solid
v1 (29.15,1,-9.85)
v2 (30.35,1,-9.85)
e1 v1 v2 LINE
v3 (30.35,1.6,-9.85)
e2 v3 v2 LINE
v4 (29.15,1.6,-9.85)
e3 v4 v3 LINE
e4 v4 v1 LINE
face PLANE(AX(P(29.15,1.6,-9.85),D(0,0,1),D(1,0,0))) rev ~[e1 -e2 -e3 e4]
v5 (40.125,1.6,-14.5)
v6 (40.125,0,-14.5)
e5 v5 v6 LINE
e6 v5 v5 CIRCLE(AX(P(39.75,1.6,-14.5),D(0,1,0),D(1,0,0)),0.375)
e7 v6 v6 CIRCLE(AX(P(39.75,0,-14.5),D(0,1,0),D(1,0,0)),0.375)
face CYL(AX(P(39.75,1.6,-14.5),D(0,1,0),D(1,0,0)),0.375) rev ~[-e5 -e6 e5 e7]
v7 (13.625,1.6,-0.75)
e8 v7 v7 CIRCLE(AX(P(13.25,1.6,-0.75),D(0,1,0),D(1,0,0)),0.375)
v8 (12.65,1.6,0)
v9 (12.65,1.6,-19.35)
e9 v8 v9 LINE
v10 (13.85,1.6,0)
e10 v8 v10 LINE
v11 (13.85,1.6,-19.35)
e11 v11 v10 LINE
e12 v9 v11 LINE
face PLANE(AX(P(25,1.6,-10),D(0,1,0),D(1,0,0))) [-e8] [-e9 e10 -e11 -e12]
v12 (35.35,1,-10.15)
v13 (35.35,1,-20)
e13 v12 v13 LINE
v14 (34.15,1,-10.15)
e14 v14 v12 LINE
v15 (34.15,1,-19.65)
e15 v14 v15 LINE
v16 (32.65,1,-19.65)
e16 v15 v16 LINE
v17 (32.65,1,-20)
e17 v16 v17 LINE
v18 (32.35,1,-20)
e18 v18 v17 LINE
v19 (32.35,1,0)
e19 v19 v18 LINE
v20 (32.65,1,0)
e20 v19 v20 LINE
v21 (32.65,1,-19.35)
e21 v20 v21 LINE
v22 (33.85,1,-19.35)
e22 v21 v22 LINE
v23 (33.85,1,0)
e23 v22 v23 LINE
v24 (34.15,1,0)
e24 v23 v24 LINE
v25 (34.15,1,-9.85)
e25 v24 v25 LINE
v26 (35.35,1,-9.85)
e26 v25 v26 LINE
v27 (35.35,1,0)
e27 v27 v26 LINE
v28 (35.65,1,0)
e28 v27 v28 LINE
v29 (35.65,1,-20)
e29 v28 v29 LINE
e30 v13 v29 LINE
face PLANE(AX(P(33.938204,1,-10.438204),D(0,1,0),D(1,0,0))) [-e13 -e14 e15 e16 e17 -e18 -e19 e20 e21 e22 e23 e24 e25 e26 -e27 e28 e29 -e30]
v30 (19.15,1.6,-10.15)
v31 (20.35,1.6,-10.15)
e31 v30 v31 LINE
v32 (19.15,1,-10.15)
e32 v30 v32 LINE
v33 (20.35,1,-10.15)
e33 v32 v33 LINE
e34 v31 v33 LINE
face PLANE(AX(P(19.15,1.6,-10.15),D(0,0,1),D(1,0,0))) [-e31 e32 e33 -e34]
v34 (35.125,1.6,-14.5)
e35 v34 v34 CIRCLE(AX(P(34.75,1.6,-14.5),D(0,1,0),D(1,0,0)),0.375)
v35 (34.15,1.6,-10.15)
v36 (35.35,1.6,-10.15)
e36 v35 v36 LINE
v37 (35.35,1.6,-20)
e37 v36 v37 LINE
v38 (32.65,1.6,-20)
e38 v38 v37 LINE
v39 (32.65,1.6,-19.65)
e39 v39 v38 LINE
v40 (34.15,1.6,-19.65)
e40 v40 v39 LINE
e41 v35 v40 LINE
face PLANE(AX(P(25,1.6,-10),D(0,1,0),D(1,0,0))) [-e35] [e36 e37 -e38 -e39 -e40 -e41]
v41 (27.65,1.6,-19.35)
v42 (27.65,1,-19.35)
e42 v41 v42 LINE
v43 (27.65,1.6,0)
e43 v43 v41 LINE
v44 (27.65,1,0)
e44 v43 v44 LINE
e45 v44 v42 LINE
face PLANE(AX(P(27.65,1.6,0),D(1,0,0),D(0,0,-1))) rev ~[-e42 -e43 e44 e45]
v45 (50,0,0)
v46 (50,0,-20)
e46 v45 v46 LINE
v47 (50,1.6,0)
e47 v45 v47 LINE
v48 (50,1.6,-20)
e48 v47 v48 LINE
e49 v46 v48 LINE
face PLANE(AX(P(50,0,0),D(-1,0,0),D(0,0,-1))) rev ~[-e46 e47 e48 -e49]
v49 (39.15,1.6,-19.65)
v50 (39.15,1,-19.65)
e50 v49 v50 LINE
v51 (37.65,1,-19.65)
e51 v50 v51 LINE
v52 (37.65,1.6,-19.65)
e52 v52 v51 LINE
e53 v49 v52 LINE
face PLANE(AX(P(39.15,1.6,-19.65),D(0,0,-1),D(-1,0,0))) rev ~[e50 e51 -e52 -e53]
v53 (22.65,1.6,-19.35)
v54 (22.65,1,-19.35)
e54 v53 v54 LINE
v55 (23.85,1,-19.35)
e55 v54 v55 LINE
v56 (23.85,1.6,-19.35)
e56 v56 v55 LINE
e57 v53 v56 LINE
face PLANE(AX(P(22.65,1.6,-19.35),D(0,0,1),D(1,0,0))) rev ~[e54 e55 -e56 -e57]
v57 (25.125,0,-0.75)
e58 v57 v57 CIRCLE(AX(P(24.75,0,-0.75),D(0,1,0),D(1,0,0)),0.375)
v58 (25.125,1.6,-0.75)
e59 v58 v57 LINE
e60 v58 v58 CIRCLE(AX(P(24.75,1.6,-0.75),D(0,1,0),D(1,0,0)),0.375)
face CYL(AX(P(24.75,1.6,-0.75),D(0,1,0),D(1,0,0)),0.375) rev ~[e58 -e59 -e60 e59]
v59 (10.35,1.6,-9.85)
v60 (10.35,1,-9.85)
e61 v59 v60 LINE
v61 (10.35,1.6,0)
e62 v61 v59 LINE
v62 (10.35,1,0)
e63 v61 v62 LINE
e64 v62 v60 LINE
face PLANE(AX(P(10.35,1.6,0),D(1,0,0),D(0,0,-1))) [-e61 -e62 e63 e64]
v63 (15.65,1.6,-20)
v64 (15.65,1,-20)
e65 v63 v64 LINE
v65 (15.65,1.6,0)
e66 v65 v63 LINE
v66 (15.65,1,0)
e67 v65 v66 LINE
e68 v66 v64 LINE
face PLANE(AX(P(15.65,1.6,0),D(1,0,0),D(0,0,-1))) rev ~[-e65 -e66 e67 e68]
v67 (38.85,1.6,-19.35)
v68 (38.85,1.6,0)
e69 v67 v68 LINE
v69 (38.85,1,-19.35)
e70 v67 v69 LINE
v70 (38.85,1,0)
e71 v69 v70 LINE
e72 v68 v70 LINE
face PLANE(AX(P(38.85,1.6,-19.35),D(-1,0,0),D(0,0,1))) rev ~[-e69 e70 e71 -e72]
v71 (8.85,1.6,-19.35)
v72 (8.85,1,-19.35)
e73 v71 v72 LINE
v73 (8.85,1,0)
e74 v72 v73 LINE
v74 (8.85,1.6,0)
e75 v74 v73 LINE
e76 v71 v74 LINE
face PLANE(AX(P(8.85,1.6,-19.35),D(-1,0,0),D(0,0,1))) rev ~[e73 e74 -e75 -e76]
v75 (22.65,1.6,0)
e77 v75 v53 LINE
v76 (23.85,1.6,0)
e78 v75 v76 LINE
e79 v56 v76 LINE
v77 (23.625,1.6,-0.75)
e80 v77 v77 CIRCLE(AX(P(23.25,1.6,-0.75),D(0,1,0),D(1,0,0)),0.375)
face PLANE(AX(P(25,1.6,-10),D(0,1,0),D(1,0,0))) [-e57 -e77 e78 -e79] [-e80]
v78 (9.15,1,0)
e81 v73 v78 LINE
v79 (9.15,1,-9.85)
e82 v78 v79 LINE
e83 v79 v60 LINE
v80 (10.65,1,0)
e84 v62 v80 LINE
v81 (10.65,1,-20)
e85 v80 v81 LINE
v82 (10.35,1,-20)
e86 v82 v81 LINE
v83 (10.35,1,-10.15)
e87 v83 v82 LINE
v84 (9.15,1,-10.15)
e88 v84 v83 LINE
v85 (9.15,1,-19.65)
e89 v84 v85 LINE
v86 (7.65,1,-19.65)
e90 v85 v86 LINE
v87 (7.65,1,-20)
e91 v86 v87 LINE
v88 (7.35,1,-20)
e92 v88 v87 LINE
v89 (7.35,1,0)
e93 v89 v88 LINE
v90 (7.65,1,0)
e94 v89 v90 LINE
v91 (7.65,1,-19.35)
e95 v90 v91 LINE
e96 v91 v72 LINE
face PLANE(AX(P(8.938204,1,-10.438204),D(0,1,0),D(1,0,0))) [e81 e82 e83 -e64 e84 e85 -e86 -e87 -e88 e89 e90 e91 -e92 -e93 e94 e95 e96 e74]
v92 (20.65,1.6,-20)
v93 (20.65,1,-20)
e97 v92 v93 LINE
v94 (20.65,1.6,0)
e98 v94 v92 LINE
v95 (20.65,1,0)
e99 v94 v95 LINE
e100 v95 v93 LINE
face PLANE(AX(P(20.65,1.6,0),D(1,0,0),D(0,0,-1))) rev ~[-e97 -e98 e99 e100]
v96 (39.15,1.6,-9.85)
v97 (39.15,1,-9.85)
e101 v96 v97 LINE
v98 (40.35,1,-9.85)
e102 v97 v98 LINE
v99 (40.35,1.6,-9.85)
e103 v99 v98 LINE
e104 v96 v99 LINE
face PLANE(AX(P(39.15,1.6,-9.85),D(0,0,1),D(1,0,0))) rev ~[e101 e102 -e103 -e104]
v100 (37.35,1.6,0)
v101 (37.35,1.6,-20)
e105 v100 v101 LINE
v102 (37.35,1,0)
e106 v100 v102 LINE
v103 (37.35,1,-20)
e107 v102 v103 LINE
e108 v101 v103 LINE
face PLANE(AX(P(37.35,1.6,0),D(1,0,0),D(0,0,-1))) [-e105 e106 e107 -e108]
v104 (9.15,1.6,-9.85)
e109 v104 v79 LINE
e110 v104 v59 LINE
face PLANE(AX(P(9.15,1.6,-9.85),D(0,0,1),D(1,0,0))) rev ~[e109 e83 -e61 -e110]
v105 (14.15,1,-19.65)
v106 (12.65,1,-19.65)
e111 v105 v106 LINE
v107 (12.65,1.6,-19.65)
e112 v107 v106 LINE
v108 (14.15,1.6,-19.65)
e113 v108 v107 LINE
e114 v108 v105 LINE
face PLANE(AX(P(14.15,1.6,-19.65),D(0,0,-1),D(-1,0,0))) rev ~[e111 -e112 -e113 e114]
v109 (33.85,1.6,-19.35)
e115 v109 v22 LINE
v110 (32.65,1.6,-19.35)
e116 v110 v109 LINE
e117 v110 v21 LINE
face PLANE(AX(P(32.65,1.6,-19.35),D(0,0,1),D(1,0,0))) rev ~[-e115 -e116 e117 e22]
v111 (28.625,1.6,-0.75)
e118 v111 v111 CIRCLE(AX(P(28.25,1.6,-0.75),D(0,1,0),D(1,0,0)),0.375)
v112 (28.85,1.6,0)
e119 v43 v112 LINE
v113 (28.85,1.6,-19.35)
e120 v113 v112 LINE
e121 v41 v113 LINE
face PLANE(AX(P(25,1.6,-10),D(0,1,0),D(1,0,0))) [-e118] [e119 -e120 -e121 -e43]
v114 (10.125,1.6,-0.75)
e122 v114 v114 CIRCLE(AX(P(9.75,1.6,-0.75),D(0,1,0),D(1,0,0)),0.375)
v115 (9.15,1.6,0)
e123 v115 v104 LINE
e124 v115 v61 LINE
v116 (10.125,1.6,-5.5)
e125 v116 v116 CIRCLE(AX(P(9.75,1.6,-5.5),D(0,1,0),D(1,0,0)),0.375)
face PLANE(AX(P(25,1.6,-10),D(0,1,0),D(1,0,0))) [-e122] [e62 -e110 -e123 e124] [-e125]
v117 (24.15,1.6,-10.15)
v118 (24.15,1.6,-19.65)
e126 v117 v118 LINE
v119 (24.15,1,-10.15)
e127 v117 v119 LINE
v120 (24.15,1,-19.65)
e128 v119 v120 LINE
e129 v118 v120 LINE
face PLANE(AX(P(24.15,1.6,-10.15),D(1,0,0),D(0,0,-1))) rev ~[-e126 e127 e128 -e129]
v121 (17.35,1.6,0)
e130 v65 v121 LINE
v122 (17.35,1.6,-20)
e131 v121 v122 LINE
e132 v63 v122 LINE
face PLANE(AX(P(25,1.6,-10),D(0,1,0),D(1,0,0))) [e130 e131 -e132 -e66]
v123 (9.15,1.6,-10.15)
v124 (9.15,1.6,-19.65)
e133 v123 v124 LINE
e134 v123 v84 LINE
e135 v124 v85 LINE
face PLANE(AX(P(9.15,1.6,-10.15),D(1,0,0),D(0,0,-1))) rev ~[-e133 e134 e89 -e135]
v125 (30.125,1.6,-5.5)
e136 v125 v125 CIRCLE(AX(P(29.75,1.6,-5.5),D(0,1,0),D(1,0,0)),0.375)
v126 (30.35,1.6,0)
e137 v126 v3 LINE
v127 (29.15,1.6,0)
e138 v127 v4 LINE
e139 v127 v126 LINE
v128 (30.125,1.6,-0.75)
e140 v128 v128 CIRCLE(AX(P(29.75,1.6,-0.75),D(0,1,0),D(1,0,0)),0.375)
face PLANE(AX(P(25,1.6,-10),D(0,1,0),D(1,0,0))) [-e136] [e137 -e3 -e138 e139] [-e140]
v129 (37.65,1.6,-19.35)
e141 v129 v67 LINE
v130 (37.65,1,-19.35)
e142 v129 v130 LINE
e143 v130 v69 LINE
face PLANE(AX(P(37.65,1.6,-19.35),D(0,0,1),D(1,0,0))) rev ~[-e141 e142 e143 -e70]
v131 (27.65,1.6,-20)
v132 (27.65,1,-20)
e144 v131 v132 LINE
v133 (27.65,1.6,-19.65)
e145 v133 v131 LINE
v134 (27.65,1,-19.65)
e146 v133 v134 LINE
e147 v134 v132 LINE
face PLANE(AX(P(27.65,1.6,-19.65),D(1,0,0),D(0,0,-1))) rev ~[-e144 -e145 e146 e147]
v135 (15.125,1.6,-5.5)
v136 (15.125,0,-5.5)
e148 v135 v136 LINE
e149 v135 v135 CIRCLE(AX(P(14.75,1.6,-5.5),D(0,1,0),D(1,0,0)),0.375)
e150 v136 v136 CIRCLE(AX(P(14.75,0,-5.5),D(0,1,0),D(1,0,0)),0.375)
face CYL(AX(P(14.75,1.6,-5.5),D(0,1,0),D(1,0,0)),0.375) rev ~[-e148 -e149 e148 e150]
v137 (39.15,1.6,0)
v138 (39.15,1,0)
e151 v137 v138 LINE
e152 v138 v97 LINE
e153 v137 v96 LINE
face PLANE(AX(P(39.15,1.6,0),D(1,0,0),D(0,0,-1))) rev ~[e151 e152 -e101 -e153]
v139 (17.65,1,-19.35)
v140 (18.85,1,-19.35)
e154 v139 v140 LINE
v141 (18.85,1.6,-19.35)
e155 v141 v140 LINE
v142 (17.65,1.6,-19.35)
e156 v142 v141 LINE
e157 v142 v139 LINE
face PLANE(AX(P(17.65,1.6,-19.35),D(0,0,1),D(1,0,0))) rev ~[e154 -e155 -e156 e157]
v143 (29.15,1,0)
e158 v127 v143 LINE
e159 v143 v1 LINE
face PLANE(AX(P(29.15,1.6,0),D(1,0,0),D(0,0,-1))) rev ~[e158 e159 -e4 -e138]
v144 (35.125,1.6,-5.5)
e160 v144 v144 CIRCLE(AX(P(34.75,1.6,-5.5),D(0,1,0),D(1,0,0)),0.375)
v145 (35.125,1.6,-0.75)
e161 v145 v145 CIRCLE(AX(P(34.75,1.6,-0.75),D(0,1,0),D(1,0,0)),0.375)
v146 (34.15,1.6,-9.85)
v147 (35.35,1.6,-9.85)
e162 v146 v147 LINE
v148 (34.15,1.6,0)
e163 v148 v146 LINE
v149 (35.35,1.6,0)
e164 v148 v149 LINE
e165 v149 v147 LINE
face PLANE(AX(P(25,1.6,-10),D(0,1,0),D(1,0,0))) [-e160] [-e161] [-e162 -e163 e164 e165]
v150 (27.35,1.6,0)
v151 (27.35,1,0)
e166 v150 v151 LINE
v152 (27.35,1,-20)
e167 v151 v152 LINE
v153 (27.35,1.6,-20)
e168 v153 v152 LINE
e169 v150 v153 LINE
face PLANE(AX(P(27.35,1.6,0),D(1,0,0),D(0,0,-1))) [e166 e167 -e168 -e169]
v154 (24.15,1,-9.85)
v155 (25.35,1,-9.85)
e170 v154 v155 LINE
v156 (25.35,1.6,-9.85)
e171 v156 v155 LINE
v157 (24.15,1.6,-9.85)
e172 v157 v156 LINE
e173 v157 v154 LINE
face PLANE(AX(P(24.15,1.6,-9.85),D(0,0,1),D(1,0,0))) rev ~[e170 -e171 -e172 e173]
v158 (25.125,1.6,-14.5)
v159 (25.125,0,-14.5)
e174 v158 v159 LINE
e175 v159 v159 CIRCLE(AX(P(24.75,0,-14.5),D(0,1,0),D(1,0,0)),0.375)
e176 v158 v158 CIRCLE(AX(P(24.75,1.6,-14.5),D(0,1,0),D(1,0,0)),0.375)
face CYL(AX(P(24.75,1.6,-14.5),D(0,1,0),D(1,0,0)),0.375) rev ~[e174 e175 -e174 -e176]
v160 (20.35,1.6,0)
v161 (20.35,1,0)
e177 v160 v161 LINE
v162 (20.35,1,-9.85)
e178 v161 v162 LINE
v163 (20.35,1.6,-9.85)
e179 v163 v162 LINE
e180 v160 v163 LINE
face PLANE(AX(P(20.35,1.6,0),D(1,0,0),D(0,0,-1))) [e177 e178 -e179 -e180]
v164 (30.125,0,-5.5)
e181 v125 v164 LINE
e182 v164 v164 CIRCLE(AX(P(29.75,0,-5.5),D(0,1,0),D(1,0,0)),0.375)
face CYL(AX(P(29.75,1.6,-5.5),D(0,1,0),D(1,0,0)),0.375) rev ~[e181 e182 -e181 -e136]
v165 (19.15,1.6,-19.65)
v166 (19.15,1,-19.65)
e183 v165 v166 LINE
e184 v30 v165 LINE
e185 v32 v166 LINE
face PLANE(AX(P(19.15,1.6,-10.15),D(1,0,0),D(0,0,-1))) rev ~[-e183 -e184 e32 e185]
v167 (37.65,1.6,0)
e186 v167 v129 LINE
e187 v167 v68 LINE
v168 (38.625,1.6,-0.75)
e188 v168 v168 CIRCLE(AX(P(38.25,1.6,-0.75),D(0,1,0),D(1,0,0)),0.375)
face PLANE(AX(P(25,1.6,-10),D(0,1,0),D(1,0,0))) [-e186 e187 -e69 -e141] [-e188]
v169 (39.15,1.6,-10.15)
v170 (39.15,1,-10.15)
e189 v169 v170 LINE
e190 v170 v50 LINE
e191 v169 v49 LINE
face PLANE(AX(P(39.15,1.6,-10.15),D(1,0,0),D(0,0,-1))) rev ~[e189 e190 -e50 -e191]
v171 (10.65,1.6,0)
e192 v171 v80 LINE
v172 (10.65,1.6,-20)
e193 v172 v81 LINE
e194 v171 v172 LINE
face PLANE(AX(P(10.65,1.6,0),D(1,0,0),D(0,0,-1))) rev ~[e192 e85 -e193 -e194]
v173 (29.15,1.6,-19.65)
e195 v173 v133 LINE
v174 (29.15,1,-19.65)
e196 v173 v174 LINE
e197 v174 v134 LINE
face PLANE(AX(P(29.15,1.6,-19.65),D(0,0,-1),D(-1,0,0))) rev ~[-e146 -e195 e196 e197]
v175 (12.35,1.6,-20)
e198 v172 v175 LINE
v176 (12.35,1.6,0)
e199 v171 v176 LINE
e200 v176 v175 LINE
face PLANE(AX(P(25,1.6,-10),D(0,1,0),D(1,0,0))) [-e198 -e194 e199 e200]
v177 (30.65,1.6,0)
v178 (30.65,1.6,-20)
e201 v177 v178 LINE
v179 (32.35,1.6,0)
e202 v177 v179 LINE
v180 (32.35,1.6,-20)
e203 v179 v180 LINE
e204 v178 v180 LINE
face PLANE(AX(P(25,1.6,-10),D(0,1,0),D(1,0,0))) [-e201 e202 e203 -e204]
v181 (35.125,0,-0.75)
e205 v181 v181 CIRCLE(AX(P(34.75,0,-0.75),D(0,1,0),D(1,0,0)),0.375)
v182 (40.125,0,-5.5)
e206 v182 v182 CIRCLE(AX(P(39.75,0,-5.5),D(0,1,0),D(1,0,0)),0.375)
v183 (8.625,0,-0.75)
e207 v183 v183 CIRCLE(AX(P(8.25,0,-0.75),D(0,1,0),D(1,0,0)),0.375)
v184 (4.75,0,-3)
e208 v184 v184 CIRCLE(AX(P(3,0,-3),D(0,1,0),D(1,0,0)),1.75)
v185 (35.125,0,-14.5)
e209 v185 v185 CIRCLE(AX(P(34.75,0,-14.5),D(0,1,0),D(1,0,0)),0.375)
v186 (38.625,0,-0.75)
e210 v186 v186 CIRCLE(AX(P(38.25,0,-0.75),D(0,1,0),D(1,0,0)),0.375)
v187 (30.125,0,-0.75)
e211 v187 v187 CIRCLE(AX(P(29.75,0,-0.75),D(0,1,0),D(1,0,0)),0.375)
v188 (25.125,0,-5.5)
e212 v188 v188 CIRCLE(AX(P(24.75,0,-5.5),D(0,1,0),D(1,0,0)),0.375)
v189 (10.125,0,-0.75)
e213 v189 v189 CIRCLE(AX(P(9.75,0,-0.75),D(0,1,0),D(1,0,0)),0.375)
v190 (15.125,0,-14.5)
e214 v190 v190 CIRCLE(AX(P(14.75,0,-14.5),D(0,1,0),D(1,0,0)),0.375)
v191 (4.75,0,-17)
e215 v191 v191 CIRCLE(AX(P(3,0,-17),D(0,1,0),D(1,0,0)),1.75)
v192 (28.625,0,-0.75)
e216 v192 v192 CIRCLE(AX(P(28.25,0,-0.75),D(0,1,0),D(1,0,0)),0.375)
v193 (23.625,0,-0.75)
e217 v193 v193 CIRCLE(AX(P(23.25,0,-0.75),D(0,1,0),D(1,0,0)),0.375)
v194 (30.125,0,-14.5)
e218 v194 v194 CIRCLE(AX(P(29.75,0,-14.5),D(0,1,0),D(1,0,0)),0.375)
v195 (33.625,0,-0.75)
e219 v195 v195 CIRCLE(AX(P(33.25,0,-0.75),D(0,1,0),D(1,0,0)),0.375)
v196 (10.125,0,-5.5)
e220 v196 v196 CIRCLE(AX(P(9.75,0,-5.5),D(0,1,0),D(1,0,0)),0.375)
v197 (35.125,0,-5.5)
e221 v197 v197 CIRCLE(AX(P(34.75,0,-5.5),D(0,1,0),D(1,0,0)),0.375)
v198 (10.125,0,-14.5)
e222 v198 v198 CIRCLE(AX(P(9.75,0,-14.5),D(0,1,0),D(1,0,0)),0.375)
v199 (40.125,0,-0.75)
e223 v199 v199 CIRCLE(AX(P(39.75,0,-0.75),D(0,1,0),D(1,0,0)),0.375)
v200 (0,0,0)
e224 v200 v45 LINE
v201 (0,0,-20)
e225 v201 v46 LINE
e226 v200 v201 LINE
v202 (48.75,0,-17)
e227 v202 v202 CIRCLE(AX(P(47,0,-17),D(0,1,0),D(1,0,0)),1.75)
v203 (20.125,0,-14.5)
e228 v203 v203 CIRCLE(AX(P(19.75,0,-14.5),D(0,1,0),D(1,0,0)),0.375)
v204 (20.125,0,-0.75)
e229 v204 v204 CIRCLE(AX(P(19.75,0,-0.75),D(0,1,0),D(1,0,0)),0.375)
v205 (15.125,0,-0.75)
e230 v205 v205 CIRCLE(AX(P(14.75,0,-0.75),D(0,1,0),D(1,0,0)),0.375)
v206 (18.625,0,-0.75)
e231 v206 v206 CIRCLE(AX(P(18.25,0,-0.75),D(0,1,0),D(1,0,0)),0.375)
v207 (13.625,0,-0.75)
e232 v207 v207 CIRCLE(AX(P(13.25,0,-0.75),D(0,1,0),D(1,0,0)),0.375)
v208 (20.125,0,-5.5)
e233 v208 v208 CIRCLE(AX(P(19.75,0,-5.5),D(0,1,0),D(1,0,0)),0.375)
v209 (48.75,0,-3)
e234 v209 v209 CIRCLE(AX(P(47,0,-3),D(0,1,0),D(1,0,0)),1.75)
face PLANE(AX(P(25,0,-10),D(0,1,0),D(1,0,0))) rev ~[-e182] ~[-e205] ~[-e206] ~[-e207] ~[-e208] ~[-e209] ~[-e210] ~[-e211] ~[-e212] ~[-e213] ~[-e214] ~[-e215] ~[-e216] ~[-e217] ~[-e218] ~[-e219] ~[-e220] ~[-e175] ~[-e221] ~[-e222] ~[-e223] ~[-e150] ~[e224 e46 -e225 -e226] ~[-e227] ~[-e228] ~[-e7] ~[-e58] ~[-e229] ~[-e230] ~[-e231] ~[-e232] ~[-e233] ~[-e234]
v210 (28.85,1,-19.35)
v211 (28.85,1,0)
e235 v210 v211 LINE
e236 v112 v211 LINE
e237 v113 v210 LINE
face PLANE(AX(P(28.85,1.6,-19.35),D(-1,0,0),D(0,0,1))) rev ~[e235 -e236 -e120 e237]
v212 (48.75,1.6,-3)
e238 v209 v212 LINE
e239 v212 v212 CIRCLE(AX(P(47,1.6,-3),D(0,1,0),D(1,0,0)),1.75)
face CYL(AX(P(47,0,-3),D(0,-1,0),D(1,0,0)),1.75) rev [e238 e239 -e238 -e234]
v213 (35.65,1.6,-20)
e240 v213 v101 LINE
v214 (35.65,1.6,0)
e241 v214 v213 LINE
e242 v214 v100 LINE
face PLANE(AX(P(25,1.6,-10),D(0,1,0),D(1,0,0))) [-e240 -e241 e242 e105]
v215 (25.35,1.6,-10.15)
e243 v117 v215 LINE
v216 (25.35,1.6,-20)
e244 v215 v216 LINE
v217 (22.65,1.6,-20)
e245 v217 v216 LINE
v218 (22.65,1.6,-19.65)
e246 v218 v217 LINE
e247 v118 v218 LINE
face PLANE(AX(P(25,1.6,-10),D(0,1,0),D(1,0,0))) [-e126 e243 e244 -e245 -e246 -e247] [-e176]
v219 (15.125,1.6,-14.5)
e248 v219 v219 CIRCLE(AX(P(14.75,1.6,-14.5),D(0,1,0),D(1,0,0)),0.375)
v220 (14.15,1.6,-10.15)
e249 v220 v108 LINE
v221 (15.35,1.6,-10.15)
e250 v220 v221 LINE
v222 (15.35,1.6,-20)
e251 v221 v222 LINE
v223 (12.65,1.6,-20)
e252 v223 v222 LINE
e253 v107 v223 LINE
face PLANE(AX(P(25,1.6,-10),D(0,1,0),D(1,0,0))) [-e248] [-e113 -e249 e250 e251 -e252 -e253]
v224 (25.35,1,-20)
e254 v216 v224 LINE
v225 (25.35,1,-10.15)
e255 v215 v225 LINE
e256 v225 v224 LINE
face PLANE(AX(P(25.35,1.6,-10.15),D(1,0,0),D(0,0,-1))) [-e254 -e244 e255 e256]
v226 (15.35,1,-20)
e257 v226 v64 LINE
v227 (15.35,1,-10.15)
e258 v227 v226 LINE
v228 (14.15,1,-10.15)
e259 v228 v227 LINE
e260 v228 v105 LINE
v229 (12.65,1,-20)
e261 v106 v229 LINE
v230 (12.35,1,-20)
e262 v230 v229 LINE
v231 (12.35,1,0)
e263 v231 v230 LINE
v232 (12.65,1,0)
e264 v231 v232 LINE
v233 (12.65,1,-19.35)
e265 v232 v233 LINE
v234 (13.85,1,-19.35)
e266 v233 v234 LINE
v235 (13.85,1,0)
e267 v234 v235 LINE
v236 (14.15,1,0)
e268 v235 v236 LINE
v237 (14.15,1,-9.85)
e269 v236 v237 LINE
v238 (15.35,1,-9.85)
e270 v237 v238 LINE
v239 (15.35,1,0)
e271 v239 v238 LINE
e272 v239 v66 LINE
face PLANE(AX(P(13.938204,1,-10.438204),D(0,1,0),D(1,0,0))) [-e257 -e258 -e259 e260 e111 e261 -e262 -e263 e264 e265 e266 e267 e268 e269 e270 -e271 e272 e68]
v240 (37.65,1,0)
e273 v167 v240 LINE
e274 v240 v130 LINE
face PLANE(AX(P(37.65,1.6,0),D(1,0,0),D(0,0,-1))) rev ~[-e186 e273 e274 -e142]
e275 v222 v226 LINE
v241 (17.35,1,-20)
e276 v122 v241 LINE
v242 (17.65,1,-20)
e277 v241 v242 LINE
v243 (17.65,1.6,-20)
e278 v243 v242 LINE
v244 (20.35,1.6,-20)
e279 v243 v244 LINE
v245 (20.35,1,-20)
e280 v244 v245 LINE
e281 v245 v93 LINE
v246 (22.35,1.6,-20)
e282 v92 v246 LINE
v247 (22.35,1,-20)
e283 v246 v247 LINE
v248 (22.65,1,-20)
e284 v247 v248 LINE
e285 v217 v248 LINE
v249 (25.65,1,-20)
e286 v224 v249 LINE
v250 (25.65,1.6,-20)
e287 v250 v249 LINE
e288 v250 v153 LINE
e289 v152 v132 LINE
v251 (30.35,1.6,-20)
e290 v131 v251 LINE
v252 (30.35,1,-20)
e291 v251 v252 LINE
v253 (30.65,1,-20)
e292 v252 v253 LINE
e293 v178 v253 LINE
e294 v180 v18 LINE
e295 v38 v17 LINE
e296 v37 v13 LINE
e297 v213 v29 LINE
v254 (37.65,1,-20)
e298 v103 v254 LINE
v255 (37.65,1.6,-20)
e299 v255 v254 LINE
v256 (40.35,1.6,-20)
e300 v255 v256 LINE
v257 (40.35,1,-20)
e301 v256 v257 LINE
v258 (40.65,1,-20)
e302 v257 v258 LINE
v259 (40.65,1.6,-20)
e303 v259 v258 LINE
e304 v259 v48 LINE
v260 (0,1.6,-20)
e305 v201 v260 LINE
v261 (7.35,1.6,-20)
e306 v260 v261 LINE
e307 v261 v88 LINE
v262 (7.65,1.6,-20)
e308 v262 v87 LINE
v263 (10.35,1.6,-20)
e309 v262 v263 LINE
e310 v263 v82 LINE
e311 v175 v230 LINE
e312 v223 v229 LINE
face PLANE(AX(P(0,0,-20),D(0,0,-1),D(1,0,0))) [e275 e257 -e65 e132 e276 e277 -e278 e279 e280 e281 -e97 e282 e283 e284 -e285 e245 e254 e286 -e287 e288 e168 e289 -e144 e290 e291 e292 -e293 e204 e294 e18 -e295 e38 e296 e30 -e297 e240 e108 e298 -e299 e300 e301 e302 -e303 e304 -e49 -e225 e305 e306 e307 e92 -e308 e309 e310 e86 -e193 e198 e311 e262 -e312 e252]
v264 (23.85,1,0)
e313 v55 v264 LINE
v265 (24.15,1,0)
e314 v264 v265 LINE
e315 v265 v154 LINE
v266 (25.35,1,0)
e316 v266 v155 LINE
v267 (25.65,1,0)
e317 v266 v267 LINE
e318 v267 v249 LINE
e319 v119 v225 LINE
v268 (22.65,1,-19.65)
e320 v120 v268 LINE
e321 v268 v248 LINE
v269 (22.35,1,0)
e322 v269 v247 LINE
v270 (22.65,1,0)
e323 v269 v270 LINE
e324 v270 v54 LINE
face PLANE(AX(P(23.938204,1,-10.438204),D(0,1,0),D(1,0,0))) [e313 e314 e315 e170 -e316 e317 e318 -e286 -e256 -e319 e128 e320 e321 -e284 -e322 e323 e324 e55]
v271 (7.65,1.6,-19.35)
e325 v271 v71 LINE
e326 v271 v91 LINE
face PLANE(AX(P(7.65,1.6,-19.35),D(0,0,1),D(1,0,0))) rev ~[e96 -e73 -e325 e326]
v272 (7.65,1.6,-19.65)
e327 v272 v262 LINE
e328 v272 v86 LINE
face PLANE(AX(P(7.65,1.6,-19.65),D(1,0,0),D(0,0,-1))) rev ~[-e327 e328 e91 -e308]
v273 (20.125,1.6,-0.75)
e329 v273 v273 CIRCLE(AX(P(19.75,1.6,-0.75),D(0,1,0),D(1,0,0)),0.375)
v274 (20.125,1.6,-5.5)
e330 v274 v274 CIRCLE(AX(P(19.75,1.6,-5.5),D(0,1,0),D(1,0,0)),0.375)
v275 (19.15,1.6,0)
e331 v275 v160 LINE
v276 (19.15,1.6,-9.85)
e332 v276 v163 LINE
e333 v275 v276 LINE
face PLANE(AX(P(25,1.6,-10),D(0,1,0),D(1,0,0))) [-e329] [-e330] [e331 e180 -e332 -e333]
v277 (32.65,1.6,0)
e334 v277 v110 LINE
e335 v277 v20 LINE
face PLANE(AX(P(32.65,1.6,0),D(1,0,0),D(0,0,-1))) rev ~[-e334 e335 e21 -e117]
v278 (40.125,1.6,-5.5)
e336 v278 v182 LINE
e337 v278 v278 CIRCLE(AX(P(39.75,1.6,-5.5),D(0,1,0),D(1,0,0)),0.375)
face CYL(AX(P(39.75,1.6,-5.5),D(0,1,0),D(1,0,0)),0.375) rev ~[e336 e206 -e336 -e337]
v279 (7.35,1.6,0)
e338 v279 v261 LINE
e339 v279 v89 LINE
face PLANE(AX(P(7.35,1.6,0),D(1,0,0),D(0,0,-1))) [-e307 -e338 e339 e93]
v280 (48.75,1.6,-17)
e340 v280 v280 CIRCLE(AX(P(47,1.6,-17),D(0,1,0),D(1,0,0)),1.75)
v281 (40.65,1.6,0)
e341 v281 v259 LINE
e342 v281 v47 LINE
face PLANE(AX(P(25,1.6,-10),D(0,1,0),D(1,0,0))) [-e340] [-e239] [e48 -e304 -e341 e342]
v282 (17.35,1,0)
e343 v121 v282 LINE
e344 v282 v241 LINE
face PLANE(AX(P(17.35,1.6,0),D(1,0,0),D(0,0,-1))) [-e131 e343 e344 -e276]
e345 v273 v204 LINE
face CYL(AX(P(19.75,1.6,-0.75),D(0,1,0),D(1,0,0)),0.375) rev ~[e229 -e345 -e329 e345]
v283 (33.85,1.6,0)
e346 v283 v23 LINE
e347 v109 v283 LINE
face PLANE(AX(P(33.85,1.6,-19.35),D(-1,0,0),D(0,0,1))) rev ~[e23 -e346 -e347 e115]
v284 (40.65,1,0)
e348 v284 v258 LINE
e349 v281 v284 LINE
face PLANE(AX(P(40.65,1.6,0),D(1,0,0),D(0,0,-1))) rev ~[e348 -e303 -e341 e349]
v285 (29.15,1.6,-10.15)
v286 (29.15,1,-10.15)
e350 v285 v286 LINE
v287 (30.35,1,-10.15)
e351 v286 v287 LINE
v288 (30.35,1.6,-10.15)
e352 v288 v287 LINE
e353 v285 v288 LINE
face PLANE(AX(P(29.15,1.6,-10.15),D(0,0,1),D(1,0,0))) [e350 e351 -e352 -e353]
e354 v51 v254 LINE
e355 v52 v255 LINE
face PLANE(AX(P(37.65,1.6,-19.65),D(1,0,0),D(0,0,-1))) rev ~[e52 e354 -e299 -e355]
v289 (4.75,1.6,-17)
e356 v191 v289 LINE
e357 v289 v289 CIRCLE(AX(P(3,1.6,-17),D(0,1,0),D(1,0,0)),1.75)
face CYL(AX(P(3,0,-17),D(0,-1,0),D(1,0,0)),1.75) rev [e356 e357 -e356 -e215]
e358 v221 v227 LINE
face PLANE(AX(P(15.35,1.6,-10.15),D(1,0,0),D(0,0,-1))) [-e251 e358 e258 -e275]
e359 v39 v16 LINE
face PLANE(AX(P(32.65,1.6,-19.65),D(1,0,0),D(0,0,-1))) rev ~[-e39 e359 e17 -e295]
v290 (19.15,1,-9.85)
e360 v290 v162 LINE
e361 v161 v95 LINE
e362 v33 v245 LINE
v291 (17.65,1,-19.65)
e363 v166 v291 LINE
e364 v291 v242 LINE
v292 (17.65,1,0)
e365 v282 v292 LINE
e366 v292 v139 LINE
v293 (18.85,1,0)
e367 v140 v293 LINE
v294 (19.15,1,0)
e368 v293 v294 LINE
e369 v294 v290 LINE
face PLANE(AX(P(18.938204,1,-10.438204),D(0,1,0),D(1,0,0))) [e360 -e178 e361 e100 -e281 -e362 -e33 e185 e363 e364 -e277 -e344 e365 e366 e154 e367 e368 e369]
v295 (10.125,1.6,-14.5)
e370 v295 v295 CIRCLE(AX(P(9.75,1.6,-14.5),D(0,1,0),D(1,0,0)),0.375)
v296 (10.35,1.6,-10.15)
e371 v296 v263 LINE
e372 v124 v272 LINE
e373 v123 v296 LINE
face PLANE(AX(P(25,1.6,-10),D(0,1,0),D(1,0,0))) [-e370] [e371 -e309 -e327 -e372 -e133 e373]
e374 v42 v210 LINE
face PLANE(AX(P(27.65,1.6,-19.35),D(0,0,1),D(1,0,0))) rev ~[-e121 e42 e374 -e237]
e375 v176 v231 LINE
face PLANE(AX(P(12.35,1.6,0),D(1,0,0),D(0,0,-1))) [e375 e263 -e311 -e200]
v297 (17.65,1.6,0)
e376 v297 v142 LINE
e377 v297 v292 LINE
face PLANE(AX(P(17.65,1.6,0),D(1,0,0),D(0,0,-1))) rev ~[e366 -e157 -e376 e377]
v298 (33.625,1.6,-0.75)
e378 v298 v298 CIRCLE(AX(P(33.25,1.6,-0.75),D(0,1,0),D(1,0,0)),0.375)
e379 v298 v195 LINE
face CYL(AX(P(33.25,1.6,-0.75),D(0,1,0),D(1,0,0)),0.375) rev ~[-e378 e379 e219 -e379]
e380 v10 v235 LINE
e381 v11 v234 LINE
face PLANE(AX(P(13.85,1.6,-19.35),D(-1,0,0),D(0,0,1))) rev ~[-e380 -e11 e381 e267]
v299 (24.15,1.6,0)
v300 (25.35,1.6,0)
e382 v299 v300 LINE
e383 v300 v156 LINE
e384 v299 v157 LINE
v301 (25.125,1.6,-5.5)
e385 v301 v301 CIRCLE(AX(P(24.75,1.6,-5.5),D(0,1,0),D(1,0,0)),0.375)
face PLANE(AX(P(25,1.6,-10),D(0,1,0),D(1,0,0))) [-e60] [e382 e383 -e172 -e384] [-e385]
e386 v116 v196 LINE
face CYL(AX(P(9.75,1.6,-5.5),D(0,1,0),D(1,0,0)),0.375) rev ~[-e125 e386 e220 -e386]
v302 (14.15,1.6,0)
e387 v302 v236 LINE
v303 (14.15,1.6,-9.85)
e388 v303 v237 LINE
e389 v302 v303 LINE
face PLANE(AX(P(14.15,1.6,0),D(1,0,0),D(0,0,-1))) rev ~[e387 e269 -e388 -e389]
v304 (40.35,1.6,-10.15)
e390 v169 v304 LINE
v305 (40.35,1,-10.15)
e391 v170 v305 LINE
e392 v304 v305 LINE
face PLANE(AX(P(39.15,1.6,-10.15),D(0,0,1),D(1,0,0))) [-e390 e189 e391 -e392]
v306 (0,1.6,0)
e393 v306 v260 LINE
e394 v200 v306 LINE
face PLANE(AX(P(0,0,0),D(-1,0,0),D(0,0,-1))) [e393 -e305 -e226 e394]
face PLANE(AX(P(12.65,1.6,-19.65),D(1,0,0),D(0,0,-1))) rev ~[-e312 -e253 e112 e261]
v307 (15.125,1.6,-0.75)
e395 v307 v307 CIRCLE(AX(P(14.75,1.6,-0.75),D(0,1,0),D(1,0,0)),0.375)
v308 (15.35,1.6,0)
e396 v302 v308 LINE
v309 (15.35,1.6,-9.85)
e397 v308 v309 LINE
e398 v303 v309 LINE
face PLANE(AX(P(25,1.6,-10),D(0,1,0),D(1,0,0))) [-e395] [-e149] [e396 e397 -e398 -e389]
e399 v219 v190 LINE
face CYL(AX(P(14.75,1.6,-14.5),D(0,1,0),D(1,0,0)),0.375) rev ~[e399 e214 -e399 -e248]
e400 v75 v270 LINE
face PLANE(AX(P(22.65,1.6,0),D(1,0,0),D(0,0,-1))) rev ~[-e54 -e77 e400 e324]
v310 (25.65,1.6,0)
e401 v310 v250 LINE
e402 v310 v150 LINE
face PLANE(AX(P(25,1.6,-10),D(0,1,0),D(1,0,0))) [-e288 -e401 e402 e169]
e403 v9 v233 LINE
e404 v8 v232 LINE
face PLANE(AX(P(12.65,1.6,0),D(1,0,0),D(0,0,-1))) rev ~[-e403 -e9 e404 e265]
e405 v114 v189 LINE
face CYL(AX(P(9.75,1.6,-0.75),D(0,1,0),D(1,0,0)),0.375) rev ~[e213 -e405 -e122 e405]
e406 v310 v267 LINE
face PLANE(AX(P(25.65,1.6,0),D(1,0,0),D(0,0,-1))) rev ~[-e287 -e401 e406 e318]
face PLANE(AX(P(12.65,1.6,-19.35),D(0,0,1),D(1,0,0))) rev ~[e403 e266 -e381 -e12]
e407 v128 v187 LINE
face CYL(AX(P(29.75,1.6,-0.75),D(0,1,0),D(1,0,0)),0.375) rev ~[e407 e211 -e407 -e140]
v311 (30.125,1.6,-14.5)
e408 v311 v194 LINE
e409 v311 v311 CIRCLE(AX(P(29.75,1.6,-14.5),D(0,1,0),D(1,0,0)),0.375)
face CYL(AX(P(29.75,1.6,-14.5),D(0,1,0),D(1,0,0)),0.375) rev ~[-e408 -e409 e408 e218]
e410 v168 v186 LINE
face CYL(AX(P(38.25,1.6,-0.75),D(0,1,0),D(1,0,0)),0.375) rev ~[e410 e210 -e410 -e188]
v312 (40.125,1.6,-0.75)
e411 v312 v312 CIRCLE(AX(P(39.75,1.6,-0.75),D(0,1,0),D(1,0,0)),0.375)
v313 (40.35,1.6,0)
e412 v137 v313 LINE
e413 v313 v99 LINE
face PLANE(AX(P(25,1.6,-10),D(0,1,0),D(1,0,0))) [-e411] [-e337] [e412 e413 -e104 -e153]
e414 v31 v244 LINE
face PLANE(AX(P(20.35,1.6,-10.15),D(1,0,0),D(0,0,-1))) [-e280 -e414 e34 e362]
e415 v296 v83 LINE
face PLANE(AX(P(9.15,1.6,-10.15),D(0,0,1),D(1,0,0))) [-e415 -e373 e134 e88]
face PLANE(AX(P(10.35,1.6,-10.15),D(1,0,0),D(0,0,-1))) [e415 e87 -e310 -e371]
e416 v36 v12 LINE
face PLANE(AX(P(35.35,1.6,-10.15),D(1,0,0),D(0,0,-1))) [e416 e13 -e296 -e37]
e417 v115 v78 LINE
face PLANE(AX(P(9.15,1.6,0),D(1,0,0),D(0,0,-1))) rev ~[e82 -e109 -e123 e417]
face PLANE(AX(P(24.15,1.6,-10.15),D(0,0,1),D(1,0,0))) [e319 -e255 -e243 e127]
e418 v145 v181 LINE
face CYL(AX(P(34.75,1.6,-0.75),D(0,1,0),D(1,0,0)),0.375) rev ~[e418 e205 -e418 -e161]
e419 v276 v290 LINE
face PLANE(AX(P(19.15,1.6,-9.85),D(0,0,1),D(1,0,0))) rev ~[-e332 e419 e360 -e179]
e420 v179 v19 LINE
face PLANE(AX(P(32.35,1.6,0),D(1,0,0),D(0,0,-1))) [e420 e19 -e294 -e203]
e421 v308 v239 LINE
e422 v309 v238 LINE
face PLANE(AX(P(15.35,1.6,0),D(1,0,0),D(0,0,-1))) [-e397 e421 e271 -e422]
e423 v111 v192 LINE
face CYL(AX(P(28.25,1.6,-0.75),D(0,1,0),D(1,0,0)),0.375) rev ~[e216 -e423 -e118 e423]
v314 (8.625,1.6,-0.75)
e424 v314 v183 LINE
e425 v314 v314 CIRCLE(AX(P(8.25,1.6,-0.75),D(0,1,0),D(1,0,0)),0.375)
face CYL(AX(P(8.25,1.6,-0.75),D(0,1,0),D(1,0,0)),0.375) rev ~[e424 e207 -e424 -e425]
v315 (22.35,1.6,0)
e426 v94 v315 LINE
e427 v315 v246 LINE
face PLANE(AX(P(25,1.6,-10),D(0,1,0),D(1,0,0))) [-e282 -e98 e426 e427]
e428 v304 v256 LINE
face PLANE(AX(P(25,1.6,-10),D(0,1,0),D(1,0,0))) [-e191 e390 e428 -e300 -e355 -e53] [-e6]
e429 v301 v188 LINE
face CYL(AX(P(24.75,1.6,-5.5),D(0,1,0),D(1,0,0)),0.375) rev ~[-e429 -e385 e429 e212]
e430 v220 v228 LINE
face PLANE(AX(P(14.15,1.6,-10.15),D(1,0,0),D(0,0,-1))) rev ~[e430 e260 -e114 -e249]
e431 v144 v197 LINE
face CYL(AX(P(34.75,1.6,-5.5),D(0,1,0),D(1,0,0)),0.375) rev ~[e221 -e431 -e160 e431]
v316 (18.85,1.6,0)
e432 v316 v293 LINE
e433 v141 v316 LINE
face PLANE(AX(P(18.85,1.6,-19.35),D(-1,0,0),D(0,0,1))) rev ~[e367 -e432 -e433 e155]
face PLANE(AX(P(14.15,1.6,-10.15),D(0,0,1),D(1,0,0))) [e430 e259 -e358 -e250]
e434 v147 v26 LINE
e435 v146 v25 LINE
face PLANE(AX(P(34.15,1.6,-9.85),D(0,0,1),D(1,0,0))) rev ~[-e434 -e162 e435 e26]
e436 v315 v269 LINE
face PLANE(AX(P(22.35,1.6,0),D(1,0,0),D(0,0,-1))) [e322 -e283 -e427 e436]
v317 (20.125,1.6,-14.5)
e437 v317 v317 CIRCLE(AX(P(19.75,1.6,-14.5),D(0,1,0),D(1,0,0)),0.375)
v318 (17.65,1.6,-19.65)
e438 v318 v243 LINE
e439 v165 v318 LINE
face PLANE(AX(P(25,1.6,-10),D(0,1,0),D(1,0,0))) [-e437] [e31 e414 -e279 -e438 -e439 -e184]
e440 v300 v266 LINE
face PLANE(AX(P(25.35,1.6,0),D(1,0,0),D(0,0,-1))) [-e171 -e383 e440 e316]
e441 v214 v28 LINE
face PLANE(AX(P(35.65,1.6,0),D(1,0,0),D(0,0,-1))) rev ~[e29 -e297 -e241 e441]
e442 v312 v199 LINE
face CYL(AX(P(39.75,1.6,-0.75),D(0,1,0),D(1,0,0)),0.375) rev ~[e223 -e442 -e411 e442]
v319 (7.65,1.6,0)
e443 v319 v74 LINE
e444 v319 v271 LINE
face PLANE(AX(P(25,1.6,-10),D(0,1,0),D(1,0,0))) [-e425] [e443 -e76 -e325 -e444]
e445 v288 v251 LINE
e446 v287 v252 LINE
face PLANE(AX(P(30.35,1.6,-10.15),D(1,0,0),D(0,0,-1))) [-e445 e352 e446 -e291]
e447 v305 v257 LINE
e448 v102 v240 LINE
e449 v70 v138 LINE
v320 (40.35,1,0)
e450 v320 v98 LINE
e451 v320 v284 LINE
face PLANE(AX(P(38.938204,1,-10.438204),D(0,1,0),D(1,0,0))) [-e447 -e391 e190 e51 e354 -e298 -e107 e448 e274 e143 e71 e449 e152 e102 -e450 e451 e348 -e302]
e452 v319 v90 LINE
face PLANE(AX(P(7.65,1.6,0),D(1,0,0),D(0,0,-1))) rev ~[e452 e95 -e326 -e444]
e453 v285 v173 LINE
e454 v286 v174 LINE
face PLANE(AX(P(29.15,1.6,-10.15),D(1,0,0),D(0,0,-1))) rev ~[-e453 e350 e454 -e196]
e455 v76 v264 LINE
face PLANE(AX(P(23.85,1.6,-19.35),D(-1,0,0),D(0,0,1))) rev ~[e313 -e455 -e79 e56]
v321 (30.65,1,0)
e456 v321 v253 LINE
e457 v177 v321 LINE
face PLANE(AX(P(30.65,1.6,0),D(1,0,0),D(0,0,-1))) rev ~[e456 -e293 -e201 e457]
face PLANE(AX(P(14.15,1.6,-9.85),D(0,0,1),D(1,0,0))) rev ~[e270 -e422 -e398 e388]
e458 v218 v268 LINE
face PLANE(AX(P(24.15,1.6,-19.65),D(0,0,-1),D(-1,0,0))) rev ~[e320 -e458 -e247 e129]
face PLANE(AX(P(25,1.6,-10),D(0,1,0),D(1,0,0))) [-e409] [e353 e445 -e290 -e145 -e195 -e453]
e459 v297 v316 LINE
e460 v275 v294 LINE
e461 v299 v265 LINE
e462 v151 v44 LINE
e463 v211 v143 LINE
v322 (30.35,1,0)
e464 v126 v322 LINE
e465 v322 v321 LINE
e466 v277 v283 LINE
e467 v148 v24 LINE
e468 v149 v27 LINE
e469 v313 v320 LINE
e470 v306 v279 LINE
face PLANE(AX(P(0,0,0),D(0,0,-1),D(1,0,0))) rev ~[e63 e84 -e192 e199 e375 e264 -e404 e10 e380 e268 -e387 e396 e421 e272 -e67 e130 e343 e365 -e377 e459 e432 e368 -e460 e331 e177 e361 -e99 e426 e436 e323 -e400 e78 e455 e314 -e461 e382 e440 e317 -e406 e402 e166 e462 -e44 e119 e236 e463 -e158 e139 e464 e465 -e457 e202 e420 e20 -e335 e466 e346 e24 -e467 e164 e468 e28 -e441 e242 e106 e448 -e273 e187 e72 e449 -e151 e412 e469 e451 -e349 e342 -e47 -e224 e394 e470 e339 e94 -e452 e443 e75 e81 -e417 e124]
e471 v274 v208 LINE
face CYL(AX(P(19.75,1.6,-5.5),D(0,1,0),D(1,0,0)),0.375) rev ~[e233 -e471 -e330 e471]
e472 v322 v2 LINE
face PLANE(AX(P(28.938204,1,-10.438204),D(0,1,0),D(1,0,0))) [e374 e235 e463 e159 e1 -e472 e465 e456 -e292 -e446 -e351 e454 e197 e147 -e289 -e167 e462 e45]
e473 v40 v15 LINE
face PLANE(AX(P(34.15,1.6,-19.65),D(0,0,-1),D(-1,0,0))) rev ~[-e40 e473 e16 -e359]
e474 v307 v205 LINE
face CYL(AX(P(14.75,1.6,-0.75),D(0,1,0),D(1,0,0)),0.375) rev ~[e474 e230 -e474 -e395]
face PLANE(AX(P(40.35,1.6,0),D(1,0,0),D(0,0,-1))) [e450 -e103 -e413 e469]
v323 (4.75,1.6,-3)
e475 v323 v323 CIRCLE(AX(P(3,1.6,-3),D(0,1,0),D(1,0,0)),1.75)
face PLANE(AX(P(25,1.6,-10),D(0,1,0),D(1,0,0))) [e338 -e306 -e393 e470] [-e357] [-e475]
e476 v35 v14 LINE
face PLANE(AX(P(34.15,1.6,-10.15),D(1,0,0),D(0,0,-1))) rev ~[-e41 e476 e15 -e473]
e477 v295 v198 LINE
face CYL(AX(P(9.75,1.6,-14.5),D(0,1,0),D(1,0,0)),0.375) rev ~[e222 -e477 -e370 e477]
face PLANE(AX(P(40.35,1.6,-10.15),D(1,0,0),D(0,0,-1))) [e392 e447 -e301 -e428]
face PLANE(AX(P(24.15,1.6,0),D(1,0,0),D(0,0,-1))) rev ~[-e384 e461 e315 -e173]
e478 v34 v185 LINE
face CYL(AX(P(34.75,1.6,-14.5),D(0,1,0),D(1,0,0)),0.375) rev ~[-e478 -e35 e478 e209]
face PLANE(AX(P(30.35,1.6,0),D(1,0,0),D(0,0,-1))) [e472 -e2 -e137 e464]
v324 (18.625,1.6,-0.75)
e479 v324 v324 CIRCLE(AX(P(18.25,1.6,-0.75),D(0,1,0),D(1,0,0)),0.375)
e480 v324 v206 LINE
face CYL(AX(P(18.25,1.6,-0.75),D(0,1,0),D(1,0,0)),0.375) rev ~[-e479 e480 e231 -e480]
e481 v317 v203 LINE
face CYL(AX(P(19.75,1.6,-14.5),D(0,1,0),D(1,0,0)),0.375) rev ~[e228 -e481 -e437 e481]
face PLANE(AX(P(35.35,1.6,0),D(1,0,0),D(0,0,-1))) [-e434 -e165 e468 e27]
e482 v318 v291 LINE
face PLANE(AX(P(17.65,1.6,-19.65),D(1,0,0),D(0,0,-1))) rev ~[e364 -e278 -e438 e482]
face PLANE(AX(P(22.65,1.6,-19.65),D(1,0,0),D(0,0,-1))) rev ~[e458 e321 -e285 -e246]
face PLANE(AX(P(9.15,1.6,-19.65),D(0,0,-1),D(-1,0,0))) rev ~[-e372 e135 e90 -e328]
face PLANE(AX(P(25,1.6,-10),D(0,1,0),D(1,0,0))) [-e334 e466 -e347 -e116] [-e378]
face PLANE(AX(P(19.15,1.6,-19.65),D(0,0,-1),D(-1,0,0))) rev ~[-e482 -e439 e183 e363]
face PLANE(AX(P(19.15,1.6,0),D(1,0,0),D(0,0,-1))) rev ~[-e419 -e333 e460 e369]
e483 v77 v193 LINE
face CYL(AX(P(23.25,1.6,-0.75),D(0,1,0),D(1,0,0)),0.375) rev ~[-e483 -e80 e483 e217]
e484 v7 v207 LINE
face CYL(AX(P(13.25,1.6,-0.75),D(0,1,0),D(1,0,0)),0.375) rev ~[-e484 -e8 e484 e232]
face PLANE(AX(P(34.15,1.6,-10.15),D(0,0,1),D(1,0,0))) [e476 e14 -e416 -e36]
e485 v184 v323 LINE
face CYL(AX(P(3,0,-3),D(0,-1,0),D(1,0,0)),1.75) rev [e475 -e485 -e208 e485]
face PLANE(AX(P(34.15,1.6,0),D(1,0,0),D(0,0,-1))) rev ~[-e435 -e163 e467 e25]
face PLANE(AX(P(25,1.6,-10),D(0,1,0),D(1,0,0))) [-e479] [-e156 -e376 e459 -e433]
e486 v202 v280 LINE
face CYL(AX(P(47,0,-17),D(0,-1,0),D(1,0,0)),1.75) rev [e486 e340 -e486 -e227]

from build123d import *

# Parameters (mm, degrees)
SKETCH1_W           = 50
SKETCH1_H           = 20
SKETCH1_R           = 1.75
BOSS_EXTRUDE1_DEPTH = 1.6
SKETCH3_R           = 0.375
CUT_EXTRUDE1_DEPTH  = 2.6
SKETCH2_W           = 0.3
SKETCH2_H           = 20
SKETCH2_W_2         = 1.5
SKETCH2_H_2         = 0.3
CUT_EXTRUDE2_DEPTH  = 0.6
LPATTERN1_COUNT     = 7
LPATTERN1_PITCH     = 5
LPATTERN2_COUNT     = 7
LPATTERN2_PITCH     = 5


with BuildPart() as part:
    # Sketch1 → Boss-Extrude1 (new body)
    with BuildSketch(Plane(origin=(0, 0, 0), x_dir=(1, 0, 0), z_dir=(0, 1, 0))):
        with Locations((25, 10)):
            Rectangle(SKETCH1_W, SKETCH1_H)
        with Locations((3, 17)):
            Circle(SKETCH1_R, mode=Mode.SUBTRACT)
        with Locations((47, 3)):
            Circle(SKETCH1_R, mode=Mode.SUBTRACT)
        with Locations((3, 3)):
            Circle(SKETCH1_R, mode=Mode.SUBTRACT)
        with Locations((47, 17)):
            Circle(SKETCH1_R, mode=Mode.SUBTRACT)
    extrude(amount=BOSS_EXTRUDE1_DEPTH)

    # Sketch3 → Cut-Extrude1 (cut, through all)
    with BuildSketch(Plane(origin=(0, 1.6, 0), x_dir=(1, 0, 0), z_dir=(0, 1, 0))):
        with Locations((8.25, 0.75)):
            Circle(SKETCH3_R)
        with Locations((9.75, 0.75)):
            Circle(SKETCH3_R)
        with Locations((9.75, 5.5)):
            Circle(SKETCH3_R)
        with Locations((9.75, 14.5)):
            Circle(SKETCH3_R)
    cut_extrude1 = extrude(amount=-CUT_EXTRUDE1_DEPTH, mode=Mode.SUBTRACT)

    # Sketch2 → Cut-Extrude2 (cut)
    with BuildSketch(Plane(origin=(0, 1.6, 0), x_dir=(1, 0, 0), z_dir=(0, 1, 0))):
        Polygon((9.15, 0), (9.15, 19.65), (7.5, 19.65), (7.5, 19.35), (8.85, 19.35), (8.85, 0), align=None)
        with Locations((7.5, 10)):
            Rectangle(SKETCH2_W, SKETCH2_H)
        with Locations((10.5, 10)):
            Rectangle(SKETCH2_W, SKETCH2_H)
        with Locations((9.75, 10)):
            Rectangle(SKETCH2_W_2, SKETCH2_H_2)
    cut_extrude2 = extrude(amount=-CUT_EXTRUDE2_DEPTH, mode=Mode.SUBTRACT)

    # LPattern1: Cut-Extrude1 ×7
    with Locations(*[(i * LPATTERN1_PITCH, 0, 0) for i in range(1, LPATTERN1_COUNT)]):
        add(cut_extrude1, mode=Mode.SUBTRACT)

    # LPattern2: Cut-Extrude2 ×7
    with Locations(*[(i * LPATTERN2_PITCH, 0, 0) for i in range(1, LPATTERN2_COUNT)]):
        add(cut_extrude2, mode=Mode.SUBTRACT)


solid = part.part
